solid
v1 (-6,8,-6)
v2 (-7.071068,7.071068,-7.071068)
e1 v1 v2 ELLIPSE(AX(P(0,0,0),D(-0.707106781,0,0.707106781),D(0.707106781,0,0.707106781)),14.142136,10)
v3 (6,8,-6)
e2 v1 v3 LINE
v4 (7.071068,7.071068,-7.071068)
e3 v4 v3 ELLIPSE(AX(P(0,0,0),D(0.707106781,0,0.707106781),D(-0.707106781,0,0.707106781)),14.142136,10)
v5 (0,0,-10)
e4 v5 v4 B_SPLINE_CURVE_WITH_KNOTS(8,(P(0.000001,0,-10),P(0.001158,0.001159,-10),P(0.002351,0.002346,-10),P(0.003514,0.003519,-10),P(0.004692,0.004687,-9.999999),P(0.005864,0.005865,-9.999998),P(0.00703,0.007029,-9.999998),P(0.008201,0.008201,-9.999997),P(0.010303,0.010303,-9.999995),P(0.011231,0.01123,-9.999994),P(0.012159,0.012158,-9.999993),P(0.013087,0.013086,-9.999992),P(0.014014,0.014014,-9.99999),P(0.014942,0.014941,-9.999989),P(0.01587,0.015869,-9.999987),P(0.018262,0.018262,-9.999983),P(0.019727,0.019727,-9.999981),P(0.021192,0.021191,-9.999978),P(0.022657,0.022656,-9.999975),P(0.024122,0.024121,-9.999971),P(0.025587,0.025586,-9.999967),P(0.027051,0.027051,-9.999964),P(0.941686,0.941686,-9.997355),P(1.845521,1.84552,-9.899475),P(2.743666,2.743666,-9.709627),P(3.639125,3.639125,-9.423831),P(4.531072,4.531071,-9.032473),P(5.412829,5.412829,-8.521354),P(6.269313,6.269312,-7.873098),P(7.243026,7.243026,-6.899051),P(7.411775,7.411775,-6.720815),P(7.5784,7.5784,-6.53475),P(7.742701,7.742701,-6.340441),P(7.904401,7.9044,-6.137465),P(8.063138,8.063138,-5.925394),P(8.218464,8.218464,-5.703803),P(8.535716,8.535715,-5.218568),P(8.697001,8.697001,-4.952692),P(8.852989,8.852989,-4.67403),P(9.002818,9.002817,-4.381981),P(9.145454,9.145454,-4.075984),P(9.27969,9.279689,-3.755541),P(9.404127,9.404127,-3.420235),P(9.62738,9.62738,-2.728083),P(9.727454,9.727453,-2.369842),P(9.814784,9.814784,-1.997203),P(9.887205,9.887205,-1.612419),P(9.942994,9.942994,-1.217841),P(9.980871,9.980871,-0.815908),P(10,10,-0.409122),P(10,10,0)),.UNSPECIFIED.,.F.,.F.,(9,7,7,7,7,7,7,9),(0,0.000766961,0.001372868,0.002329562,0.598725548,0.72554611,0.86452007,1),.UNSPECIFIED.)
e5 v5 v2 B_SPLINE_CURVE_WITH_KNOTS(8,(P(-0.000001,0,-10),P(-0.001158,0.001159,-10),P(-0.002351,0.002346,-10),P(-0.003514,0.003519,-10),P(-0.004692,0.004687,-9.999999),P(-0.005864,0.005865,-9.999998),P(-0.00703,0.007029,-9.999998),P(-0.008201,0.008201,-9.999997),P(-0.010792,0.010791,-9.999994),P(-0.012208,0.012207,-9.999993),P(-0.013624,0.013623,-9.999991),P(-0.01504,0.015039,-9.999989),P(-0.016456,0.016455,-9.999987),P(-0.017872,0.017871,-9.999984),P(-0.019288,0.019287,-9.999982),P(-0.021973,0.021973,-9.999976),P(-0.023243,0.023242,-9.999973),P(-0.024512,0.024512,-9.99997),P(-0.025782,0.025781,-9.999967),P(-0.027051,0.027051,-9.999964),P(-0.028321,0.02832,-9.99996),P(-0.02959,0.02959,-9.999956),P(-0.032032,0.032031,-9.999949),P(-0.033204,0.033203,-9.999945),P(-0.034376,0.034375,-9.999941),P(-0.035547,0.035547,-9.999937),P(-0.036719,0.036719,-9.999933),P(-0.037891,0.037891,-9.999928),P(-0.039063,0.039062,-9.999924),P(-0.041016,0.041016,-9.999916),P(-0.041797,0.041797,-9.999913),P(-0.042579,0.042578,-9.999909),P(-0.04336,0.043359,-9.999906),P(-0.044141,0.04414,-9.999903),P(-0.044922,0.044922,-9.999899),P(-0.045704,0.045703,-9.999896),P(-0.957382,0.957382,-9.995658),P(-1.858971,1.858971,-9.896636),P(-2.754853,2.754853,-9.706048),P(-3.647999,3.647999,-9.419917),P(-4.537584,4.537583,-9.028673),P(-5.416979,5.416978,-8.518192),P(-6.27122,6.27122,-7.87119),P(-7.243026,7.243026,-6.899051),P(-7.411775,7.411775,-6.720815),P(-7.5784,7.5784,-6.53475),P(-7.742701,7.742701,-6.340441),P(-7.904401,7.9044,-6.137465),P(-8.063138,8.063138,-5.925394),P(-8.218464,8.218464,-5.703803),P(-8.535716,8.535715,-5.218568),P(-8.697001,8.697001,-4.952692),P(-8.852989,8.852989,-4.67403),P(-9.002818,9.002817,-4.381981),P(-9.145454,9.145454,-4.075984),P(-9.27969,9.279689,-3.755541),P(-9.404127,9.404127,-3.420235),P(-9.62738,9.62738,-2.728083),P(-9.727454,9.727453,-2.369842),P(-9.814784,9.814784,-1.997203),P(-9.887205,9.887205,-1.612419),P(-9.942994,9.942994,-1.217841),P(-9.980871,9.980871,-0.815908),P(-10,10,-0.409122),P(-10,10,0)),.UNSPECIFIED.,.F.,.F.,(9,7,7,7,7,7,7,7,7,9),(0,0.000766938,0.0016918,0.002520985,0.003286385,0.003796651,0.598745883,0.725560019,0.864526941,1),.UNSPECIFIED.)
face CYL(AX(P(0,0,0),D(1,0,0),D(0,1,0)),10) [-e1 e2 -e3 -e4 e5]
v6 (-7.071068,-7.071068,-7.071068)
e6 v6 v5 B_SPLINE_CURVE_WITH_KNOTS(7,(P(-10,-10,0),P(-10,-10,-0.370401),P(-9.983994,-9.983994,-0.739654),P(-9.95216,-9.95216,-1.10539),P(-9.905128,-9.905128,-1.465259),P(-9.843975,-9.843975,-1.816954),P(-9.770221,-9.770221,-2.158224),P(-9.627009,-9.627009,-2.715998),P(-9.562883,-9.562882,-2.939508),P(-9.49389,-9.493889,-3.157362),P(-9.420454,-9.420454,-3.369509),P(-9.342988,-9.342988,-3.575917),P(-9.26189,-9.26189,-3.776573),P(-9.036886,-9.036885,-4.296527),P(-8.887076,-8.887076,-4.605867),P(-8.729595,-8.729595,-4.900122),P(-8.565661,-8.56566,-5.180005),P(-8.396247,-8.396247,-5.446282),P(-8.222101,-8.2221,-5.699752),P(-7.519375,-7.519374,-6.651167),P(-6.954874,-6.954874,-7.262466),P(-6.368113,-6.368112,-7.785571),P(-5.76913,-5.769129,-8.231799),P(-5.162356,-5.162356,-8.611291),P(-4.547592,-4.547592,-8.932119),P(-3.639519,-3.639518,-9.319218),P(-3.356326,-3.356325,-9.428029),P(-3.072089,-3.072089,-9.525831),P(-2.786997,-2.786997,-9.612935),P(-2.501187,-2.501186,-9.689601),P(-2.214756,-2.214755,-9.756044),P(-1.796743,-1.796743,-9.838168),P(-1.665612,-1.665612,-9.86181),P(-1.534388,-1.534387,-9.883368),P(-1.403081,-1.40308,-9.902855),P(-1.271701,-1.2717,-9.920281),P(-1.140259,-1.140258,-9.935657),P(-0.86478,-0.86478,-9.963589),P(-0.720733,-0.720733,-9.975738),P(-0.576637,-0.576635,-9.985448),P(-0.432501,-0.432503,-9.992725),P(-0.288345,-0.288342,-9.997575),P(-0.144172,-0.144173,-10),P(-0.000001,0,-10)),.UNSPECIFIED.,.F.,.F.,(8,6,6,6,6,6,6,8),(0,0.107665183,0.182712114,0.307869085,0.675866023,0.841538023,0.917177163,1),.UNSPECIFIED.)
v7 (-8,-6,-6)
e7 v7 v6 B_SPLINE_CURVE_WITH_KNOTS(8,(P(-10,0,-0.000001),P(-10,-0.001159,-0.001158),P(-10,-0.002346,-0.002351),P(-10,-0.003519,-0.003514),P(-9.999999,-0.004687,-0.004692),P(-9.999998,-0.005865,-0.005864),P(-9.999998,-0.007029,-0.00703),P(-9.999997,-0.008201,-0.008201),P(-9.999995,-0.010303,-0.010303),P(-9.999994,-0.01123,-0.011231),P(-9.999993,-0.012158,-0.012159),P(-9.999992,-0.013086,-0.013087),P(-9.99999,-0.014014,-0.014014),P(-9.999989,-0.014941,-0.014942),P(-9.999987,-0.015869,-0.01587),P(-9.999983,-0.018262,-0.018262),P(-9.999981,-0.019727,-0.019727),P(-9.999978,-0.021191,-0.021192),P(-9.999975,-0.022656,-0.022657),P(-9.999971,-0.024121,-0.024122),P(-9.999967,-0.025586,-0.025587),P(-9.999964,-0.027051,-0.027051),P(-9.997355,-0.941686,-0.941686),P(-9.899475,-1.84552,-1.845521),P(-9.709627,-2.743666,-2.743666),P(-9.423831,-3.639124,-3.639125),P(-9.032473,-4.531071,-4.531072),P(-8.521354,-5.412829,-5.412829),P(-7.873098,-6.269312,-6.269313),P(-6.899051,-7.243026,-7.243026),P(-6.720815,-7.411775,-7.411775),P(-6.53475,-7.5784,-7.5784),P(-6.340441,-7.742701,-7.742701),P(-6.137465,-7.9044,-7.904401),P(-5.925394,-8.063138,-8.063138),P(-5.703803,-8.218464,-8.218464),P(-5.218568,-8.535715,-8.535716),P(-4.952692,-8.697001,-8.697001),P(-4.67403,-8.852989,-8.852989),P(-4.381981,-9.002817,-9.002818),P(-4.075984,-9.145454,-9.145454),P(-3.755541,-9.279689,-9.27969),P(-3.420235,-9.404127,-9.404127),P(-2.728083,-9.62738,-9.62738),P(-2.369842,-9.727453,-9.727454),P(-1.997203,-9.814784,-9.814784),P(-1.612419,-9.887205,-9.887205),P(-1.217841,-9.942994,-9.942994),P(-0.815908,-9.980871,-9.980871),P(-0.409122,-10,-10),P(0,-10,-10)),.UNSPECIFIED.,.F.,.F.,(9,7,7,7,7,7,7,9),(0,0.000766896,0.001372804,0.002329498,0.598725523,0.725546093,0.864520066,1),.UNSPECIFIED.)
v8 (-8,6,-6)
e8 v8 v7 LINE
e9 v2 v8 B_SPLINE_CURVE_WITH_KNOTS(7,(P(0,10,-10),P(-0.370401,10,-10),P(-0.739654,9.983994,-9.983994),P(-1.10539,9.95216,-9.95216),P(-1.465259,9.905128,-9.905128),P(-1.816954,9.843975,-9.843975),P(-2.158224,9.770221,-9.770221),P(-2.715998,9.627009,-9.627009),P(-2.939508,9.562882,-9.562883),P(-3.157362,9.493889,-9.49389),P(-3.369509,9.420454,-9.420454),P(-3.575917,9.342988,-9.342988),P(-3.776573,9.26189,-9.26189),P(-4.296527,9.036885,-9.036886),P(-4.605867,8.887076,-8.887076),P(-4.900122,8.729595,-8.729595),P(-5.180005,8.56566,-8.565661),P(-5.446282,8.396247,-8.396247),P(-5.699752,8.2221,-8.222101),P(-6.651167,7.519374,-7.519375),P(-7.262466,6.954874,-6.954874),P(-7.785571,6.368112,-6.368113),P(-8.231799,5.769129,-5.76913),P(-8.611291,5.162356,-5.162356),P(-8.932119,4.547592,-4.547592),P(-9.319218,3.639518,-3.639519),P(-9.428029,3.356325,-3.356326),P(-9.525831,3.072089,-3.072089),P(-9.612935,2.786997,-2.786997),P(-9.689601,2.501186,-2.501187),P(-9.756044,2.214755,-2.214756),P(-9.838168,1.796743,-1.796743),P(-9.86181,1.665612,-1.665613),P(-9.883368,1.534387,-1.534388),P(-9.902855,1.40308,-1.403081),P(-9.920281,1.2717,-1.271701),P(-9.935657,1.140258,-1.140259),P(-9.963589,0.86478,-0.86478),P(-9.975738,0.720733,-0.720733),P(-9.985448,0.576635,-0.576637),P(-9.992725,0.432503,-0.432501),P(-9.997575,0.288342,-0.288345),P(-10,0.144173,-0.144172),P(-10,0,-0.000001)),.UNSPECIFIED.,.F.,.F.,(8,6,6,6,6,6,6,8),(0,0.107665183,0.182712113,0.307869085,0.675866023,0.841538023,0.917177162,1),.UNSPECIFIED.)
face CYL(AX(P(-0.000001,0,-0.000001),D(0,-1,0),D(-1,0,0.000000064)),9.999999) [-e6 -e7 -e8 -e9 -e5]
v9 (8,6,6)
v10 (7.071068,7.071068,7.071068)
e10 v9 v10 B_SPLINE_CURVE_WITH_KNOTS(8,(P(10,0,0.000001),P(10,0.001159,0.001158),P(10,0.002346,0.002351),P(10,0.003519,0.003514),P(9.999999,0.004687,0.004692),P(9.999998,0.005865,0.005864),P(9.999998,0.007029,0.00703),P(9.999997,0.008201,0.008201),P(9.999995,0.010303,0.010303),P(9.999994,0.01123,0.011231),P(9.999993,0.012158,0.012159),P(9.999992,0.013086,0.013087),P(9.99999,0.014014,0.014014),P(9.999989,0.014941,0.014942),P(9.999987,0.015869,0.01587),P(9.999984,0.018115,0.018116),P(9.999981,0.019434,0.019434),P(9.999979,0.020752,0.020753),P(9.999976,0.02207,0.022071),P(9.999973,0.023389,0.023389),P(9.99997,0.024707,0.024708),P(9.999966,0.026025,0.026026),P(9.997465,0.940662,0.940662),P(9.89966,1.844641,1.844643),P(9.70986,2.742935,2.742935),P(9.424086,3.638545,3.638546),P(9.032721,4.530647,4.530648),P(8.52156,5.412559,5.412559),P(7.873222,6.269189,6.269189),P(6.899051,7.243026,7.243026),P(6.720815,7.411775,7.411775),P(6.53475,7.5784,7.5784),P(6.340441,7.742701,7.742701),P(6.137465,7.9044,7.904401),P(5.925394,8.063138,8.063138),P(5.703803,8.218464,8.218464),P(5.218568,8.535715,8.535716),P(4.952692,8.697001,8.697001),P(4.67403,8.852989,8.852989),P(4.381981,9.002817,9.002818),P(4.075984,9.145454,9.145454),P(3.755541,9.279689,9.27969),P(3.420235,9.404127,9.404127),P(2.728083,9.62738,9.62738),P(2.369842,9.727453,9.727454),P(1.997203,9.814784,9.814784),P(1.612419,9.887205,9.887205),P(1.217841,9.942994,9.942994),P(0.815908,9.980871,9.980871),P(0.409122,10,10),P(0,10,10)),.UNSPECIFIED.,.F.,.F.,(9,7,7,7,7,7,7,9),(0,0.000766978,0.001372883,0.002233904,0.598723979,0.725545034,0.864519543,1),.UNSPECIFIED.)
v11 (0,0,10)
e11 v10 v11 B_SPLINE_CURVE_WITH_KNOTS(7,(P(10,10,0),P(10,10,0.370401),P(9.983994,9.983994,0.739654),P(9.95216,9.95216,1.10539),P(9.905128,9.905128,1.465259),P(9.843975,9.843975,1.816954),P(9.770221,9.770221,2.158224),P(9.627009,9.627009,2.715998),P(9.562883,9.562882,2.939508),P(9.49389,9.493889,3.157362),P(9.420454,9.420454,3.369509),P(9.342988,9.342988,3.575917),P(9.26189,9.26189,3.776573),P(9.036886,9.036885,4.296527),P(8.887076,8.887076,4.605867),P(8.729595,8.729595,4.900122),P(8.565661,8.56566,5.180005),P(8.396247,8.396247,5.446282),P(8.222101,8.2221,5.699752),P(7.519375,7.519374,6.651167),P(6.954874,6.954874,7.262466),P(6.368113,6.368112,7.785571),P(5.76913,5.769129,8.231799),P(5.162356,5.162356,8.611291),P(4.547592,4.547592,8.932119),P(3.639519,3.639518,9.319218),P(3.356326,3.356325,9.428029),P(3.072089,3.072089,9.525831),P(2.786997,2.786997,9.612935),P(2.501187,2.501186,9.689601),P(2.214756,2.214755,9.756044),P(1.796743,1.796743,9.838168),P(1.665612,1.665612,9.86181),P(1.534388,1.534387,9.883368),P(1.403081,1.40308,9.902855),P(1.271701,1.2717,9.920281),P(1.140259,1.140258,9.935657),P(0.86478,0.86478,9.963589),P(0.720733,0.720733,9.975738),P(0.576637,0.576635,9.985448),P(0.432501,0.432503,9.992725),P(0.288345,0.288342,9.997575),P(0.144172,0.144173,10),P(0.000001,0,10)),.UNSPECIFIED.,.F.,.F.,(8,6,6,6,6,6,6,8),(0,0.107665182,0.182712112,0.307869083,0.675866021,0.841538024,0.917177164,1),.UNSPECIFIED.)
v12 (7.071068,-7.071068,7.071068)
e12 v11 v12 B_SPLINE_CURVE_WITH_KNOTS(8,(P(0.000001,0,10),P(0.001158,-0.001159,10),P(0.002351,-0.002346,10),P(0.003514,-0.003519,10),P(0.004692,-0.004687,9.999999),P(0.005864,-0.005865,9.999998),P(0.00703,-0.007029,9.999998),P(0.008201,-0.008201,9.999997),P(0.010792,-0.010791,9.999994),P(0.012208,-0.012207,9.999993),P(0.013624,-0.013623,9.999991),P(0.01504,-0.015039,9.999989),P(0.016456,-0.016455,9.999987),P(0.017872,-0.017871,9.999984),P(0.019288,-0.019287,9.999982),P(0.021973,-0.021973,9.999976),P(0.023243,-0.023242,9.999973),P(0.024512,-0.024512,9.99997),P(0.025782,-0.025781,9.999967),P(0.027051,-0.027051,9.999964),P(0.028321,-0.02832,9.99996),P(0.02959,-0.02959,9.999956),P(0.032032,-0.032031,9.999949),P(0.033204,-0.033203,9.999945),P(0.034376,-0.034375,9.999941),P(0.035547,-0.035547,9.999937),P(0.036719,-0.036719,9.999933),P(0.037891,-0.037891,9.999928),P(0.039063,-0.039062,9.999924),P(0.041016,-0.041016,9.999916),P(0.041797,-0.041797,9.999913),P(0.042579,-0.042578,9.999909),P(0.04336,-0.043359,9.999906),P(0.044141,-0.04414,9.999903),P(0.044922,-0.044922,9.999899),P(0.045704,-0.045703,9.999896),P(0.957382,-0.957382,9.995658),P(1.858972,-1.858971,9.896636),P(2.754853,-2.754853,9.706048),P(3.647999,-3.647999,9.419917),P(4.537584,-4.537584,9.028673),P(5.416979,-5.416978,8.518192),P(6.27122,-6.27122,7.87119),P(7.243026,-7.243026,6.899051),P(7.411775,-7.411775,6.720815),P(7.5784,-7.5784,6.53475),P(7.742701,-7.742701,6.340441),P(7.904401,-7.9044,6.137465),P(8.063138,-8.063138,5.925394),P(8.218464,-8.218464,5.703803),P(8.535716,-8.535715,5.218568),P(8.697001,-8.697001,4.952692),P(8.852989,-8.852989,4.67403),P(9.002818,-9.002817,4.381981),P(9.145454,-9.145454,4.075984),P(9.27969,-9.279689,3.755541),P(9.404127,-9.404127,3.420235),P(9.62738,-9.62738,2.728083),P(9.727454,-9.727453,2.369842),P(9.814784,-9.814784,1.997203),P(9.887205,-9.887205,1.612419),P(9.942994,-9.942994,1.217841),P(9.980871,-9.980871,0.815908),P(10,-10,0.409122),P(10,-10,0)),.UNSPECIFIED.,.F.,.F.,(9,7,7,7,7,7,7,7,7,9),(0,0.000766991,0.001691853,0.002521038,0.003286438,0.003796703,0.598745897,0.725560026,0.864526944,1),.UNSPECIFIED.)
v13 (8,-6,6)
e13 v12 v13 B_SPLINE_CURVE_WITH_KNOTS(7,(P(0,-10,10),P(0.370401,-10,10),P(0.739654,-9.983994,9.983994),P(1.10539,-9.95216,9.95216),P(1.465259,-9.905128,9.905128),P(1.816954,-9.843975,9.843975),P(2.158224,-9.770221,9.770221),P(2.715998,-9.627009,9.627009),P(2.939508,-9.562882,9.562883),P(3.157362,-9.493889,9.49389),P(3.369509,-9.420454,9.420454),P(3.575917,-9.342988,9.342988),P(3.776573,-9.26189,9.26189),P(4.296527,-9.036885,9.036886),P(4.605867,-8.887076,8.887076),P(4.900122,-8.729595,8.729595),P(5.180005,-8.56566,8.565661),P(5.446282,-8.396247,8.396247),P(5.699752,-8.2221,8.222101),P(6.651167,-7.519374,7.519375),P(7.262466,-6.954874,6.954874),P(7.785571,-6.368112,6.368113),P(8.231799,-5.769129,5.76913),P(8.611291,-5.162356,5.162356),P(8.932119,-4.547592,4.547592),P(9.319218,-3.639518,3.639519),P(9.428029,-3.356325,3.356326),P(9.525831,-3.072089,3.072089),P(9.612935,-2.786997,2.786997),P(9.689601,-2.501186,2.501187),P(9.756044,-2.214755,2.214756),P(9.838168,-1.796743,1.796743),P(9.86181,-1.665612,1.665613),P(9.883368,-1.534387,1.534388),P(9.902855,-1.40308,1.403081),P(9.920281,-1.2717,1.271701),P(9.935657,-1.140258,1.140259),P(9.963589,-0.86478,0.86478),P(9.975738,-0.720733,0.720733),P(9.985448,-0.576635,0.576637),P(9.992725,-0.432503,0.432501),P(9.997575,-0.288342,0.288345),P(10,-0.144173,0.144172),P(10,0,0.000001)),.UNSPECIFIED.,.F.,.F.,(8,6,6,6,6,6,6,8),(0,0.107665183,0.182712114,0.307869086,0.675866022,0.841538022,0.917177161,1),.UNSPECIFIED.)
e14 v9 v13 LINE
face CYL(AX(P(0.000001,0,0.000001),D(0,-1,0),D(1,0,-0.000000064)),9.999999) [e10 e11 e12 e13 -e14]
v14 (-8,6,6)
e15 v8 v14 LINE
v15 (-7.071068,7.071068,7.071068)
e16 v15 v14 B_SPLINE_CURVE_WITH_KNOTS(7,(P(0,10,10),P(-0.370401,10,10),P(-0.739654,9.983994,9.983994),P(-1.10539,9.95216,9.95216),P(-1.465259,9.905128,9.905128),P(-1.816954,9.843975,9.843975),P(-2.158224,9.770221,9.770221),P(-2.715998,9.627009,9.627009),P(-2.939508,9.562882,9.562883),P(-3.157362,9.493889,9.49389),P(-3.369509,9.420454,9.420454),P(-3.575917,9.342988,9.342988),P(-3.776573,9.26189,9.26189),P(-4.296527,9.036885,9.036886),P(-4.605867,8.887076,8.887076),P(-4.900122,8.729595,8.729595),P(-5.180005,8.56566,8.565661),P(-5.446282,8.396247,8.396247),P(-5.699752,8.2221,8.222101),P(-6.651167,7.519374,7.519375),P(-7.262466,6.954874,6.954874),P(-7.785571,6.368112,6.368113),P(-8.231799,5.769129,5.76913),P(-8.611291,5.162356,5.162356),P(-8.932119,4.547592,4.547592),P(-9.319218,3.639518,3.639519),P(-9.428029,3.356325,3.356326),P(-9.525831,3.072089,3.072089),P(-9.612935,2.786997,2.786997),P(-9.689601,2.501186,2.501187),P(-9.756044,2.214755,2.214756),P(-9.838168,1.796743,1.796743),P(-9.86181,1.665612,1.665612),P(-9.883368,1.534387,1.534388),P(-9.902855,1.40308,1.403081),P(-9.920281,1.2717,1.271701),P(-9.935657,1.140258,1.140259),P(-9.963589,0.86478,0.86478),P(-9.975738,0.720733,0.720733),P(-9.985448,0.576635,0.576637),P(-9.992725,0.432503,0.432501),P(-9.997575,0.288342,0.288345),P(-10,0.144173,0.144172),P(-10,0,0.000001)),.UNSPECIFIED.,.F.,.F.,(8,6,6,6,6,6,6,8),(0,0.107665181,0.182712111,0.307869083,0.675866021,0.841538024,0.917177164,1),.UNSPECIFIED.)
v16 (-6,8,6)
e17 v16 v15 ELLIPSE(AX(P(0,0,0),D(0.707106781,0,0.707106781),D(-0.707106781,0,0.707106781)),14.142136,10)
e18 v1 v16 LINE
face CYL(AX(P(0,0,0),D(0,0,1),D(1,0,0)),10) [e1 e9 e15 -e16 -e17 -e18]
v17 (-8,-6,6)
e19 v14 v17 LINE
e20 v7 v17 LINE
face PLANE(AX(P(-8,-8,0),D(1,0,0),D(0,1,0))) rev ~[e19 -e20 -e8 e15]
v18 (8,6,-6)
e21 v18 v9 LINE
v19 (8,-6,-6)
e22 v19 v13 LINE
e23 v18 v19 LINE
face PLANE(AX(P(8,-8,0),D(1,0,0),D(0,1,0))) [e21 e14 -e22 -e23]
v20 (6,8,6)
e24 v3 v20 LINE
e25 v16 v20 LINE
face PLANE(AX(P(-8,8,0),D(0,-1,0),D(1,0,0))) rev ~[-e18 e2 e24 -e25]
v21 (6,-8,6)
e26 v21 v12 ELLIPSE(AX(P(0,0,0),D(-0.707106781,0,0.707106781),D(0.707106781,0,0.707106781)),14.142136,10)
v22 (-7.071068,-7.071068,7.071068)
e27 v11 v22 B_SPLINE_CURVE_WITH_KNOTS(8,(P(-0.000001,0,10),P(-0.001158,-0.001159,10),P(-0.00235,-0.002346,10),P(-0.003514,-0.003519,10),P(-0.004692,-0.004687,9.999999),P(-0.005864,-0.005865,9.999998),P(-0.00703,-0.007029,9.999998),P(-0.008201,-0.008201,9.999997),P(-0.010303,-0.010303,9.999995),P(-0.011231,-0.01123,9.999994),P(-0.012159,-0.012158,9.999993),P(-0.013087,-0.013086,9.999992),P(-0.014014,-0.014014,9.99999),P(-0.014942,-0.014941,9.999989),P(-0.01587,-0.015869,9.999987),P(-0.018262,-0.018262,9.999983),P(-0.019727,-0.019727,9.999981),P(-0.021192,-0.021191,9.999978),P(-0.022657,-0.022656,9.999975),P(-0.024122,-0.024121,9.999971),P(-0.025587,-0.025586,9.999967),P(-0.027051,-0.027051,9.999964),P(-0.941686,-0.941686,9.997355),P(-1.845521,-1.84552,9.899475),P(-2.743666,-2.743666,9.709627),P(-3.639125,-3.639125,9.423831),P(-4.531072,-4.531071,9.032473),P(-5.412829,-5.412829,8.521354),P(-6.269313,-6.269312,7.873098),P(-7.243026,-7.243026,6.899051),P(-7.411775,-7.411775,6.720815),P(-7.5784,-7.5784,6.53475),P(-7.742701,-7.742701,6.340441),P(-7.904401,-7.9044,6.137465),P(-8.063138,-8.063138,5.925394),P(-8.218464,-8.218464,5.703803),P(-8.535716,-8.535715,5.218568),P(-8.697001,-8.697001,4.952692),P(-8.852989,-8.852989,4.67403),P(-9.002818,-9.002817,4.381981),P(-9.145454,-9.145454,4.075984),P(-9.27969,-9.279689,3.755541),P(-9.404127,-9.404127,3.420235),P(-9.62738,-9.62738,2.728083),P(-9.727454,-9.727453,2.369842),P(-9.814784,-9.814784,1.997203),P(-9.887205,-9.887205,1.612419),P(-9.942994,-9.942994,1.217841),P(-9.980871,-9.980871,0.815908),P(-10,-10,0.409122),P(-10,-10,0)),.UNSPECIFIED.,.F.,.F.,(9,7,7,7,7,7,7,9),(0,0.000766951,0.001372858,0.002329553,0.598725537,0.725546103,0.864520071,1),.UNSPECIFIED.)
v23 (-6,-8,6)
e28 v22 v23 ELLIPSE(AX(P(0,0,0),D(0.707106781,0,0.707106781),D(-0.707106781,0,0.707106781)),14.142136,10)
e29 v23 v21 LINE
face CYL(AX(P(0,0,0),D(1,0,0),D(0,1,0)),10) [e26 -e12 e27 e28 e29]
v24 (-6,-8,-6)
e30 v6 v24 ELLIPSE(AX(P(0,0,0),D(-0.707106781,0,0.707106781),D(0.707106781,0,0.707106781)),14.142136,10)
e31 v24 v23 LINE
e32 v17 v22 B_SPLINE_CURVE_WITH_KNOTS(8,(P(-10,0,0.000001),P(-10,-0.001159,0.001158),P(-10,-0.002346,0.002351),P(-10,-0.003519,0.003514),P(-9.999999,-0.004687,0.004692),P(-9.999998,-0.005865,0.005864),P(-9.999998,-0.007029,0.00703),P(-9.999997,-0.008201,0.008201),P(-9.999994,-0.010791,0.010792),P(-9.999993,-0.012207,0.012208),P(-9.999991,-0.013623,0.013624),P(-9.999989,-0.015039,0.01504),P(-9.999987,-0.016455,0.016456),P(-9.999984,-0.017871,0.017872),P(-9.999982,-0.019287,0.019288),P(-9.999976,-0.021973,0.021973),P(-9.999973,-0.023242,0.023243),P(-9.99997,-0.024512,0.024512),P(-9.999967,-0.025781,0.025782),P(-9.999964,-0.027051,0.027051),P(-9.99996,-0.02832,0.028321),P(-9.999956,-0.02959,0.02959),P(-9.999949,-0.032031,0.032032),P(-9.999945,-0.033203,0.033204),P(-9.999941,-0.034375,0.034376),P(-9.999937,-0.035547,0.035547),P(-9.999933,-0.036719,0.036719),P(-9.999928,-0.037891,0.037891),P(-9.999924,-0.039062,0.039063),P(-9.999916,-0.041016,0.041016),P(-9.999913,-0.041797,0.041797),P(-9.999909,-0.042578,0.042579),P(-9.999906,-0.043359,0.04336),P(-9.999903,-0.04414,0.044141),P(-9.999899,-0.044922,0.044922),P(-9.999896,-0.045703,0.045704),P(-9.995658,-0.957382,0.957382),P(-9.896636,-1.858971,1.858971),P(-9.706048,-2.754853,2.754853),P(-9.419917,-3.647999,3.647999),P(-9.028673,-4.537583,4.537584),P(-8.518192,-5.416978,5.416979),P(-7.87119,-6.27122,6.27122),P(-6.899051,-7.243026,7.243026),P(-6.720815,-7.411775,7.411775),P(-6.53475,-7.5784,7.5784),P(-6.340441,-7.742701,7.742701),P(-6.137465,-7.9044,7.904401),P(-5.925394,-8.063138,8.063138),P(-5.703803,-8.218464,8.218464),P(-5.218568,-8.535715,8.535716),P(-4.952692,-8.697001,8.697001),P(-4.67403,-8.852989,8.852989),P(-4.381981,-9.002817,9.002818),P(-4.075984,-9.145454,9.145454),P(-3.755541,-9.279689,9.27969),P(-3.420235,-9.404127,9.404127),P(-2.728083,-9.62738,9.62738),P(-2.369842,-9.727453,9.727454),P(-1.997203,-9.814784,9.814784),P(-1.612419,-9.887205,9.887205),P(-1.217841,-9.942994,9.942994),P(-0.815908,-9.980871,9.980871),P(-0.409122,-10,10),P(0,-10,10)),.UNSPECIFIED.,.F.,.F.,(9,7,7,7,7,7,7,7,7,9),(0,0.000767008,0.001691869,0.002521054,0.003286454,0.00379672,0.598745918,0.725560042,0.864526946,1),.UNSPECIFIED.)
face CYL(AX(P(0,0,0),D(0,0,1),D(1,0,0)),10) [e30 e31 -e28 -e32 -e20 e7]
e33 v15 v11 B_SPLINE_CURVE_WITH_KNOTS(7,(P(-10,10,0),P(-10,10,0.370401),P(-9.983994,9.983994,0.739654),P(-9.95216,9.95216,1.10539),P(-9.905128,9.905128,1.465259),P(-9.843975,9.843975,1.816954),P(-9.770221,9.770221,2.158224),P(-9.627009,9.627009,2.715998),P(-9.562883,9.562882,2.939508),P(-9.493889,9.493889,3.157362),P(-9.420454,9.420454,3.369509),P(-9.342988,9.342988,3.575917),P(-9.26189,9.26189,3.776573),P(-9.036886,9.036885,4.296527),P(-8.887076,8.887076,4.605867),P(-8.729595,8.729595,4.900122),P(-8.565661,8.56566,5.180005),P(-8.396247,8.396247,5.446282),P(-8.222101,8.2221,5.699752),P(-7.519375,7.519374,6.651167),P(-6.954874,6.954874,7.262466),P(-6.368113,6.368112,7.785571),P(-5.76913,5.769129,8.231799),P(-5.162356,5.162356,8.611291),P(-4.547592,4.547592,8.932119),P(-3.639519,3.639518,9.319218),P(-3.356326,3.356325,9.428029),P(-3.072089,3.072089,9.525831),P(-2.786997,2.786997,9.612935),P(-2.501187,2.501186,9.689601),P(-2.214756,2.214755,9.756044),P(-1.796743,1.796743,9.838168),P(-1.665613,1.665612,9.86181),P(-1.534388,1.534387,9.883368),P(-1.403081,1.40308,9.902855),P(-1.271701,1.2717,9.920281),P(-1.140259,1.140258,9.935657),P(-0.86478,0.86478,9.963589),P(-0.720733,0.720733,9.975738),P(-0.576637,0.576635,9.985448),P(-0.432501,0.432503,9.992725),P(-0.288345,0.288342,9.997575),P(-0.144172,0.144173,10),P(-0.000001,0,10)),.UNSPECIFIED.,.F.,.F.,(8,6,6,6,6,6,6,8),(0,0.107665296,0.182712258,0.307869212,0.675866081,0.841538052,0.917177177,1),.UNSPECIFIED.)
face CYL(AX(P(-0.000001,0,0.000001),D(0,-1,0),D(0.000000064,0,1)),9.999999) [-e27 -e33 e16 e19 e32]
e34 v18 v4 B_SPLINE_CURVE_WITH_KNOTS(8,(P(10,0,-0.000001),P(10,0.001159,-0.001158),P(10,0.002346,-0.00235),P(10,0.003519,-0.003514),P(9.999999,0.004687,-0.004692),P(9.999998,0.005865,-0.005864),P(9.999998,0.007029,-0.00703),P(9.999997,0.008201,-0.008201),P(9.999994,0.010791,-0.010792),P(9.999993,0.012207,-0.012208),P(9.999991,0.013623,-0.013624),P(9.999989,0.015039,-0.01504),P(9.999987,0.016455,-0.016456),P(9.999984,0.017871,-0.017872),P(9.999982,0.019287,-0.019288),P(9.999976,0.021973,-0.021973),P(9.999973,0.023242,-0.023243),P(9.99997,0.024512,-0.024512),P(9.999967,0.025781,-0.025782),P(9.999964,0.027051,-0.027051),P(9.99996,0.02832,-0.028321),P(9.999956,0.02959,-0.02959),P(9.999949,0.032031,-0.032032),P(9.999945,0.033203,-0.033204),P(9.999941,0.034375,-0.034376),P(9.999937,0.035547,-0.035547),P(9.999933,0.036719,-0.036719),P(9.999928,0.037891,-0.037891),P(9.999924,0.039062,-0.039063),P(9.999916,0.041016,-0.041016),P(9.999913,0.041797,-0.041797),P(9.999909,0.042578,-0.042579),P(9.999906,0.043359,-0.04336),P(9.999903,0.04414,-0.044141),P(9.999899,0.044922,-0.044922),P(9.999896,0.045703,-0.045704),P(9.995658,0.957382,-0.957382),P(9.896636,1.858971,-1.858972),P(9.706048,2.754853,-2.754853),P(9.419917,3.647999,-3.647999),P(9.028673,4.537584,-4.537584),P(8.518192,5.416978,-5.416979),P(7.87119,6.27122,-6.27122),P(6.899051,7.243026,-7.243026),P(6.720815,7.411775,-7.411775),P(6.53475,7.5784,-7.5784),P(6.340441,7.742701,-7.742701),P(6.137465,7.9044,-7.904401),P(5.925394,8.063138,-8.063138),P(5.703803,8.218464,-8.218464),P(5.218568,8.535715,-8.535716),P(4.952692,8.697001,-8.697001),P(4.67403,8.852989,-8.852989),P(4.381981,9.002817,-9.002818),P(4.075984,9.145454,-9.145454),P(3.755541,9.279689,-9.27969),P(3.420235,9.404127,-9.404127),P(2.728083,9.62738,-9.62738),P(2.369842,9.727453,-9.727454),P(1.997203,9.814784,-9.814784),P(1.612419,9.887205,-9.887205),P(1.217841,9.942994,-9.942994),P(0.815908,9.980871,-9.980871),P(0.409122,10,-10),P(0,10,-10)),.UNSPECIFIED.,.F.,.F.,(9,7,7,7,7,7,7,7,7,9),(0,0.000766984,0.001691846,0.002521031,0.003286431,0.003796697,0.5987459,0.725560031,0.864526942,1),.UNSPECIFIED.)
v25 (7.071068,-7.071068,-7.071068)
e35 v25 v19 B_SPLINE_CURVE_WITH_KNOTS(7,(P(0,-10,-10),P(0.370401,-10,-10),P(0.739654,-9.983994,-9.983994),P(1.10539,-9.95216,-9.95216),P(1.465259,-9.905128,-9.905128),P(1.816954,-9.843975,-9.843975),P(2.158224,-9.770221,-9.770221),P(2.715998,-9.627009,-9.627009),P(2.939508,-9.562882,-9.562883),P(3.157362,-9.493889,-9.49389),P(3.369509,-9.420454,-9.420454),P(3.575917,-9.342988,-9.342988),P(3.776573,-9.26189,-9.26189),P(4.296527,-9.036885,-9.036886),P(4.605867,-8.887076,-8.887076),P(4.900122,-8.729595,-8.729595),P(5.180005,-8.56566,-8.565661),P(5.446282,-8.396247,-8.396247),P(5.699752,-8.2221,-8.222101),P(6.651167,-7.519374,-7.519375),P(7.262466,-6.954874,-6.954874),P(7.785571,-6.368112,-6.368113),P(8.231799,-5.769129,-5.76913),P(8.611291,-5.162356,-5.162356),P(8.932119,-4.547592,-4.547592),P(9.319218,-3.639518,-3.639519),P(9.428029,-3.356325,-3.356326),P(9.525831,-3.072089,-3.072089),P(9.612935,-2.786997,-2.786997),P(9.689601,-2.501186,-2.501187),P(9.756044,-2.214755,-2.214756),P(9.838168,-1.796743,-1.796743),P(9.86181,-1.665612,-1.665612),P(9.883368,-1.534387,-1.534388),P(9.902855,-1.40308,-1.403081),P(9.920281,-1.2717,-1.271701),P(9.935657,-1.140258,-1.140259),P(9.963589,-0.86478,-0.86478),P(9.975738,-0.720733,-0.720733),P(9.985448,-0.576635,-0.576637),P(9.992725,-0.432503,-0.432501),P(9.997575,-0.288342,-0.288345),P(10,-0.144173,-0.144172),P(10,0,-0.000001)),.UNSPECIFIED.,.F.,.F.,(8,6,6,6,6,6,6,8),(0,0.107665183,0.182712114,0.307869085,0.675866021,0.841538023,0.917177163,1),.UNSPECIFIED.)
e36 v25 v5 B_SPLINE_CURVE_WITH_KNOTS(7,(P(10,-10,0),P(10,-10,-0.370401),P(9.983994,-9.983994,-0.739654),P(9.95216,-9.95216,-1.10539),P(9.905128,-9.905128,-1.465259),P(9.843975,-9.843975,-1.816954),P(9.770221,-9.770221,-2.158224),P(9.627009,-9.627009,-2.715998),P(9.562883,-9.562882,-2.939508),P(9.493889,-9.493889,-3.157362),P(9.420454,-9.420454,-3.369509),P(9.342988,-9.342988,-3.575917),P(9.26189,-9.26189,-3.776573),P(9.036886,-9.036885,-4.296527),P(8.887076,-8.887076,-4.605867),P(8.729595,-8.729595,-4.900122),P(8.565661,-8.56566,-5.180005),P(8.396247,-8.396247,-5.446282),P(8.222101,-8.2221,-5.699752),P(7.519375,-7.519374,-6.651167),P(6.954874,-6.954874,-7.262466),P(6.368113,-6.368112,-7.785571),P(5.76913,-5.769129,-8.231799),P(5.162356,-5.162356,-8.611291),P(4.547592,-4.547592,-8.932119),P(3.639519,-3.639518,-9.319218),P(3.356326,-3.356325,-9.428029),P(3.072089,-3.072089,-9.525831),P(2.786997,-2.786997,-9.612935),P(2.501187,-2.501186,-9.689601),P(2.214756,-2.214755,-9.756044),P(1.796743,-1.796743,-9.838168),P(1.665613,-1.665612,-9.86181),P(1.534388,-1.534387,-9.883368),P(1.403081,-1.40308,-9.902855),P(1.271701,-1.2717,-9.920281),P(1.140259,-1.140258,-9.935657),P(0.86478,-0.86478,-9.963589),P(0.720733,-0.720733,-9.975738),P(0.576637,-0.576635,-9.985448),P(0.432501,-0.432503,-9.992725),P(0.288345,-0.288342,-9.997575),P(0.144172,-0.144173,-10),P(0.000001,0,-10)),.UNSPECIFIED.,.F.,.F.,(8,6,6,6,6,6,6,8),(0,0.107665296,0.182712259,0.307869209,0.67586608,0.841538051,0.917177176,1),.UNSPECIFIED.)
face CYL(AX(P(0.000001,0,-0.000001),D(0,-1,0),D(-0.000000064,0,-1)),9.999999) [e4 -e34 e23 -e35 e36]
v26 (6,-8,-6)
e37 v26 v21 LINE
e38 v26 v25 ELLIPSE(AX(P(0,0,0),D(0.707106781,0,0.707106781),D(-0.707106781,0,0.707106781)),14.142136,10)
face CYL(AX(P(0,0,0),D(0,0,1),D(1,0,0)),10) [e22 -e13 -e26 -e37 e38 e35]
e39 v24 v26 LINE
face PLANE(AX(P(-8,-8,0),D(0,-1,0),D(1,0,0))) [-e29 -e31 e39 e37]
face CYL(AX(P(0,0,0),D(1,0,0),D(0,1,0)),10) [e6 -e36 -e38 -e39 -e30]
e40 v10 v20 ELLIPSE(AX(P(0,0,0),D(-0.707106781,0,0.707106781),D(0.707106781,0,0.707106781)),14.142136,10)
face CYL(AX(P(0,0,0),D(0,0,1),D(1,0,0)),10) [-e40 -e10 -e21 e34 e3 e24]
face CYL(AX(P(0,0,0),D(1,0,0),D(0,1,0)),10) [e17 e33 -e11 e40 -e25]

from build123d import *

# Parameters (mm, degrees)
F1_R     = 10
F3_DEPTH = 10
F2_R     = 10
F4_DEPTH = 10
F5_DEPTH = 10
F6_W     = 16
F6_H     = 16
F7_DEPTH = 10


with BuildPart() as f3:
    # F1 (on Top) → F3 (new body, symmetric)
    with BuildSketch(Plane.XY):
        Circle(F1_R)
    extrude(amount=F3_DEPTH, both=True)

    # F2 (on Right) → F4 (intersect, symmetric)
    with BuildSketch(Plane.YZ):
        Circle(F2_R)
    extrude(amount=F4_DEPTH, both=True, mode=Mode.INTERSECT)

    # F0 (on Front) → F5 (intersect, symmetric)
    with BuildSketch(Plane.XZ):
        with BuildLine():
            ThreePointArc((0, -10), (7.071068, -7.071068), (10, 0))
            ThreePointArc((10, 0), (7.071068, 7.071068), (0, 10))
            ThreePointArc((0, 10), (-7.071068, 7.071068), (-10, 0))
            ThreePointArc((-10, 0), (-7.071068, -7.071068), (0, -10))
        make_face()
    extrude(amount=F5_DEPTH, both=True, mode=Mode.INTERSECT)

    # F6 (on Top) → F7 (intersect, symmetric)
    with BuildSketch(Plane.XY):
        Rectangle(F6_W, F6_H)
    extrude(amount=F7_DEPTH, both=True, mode=Mode.INTERSECT)


solid = f3.part
